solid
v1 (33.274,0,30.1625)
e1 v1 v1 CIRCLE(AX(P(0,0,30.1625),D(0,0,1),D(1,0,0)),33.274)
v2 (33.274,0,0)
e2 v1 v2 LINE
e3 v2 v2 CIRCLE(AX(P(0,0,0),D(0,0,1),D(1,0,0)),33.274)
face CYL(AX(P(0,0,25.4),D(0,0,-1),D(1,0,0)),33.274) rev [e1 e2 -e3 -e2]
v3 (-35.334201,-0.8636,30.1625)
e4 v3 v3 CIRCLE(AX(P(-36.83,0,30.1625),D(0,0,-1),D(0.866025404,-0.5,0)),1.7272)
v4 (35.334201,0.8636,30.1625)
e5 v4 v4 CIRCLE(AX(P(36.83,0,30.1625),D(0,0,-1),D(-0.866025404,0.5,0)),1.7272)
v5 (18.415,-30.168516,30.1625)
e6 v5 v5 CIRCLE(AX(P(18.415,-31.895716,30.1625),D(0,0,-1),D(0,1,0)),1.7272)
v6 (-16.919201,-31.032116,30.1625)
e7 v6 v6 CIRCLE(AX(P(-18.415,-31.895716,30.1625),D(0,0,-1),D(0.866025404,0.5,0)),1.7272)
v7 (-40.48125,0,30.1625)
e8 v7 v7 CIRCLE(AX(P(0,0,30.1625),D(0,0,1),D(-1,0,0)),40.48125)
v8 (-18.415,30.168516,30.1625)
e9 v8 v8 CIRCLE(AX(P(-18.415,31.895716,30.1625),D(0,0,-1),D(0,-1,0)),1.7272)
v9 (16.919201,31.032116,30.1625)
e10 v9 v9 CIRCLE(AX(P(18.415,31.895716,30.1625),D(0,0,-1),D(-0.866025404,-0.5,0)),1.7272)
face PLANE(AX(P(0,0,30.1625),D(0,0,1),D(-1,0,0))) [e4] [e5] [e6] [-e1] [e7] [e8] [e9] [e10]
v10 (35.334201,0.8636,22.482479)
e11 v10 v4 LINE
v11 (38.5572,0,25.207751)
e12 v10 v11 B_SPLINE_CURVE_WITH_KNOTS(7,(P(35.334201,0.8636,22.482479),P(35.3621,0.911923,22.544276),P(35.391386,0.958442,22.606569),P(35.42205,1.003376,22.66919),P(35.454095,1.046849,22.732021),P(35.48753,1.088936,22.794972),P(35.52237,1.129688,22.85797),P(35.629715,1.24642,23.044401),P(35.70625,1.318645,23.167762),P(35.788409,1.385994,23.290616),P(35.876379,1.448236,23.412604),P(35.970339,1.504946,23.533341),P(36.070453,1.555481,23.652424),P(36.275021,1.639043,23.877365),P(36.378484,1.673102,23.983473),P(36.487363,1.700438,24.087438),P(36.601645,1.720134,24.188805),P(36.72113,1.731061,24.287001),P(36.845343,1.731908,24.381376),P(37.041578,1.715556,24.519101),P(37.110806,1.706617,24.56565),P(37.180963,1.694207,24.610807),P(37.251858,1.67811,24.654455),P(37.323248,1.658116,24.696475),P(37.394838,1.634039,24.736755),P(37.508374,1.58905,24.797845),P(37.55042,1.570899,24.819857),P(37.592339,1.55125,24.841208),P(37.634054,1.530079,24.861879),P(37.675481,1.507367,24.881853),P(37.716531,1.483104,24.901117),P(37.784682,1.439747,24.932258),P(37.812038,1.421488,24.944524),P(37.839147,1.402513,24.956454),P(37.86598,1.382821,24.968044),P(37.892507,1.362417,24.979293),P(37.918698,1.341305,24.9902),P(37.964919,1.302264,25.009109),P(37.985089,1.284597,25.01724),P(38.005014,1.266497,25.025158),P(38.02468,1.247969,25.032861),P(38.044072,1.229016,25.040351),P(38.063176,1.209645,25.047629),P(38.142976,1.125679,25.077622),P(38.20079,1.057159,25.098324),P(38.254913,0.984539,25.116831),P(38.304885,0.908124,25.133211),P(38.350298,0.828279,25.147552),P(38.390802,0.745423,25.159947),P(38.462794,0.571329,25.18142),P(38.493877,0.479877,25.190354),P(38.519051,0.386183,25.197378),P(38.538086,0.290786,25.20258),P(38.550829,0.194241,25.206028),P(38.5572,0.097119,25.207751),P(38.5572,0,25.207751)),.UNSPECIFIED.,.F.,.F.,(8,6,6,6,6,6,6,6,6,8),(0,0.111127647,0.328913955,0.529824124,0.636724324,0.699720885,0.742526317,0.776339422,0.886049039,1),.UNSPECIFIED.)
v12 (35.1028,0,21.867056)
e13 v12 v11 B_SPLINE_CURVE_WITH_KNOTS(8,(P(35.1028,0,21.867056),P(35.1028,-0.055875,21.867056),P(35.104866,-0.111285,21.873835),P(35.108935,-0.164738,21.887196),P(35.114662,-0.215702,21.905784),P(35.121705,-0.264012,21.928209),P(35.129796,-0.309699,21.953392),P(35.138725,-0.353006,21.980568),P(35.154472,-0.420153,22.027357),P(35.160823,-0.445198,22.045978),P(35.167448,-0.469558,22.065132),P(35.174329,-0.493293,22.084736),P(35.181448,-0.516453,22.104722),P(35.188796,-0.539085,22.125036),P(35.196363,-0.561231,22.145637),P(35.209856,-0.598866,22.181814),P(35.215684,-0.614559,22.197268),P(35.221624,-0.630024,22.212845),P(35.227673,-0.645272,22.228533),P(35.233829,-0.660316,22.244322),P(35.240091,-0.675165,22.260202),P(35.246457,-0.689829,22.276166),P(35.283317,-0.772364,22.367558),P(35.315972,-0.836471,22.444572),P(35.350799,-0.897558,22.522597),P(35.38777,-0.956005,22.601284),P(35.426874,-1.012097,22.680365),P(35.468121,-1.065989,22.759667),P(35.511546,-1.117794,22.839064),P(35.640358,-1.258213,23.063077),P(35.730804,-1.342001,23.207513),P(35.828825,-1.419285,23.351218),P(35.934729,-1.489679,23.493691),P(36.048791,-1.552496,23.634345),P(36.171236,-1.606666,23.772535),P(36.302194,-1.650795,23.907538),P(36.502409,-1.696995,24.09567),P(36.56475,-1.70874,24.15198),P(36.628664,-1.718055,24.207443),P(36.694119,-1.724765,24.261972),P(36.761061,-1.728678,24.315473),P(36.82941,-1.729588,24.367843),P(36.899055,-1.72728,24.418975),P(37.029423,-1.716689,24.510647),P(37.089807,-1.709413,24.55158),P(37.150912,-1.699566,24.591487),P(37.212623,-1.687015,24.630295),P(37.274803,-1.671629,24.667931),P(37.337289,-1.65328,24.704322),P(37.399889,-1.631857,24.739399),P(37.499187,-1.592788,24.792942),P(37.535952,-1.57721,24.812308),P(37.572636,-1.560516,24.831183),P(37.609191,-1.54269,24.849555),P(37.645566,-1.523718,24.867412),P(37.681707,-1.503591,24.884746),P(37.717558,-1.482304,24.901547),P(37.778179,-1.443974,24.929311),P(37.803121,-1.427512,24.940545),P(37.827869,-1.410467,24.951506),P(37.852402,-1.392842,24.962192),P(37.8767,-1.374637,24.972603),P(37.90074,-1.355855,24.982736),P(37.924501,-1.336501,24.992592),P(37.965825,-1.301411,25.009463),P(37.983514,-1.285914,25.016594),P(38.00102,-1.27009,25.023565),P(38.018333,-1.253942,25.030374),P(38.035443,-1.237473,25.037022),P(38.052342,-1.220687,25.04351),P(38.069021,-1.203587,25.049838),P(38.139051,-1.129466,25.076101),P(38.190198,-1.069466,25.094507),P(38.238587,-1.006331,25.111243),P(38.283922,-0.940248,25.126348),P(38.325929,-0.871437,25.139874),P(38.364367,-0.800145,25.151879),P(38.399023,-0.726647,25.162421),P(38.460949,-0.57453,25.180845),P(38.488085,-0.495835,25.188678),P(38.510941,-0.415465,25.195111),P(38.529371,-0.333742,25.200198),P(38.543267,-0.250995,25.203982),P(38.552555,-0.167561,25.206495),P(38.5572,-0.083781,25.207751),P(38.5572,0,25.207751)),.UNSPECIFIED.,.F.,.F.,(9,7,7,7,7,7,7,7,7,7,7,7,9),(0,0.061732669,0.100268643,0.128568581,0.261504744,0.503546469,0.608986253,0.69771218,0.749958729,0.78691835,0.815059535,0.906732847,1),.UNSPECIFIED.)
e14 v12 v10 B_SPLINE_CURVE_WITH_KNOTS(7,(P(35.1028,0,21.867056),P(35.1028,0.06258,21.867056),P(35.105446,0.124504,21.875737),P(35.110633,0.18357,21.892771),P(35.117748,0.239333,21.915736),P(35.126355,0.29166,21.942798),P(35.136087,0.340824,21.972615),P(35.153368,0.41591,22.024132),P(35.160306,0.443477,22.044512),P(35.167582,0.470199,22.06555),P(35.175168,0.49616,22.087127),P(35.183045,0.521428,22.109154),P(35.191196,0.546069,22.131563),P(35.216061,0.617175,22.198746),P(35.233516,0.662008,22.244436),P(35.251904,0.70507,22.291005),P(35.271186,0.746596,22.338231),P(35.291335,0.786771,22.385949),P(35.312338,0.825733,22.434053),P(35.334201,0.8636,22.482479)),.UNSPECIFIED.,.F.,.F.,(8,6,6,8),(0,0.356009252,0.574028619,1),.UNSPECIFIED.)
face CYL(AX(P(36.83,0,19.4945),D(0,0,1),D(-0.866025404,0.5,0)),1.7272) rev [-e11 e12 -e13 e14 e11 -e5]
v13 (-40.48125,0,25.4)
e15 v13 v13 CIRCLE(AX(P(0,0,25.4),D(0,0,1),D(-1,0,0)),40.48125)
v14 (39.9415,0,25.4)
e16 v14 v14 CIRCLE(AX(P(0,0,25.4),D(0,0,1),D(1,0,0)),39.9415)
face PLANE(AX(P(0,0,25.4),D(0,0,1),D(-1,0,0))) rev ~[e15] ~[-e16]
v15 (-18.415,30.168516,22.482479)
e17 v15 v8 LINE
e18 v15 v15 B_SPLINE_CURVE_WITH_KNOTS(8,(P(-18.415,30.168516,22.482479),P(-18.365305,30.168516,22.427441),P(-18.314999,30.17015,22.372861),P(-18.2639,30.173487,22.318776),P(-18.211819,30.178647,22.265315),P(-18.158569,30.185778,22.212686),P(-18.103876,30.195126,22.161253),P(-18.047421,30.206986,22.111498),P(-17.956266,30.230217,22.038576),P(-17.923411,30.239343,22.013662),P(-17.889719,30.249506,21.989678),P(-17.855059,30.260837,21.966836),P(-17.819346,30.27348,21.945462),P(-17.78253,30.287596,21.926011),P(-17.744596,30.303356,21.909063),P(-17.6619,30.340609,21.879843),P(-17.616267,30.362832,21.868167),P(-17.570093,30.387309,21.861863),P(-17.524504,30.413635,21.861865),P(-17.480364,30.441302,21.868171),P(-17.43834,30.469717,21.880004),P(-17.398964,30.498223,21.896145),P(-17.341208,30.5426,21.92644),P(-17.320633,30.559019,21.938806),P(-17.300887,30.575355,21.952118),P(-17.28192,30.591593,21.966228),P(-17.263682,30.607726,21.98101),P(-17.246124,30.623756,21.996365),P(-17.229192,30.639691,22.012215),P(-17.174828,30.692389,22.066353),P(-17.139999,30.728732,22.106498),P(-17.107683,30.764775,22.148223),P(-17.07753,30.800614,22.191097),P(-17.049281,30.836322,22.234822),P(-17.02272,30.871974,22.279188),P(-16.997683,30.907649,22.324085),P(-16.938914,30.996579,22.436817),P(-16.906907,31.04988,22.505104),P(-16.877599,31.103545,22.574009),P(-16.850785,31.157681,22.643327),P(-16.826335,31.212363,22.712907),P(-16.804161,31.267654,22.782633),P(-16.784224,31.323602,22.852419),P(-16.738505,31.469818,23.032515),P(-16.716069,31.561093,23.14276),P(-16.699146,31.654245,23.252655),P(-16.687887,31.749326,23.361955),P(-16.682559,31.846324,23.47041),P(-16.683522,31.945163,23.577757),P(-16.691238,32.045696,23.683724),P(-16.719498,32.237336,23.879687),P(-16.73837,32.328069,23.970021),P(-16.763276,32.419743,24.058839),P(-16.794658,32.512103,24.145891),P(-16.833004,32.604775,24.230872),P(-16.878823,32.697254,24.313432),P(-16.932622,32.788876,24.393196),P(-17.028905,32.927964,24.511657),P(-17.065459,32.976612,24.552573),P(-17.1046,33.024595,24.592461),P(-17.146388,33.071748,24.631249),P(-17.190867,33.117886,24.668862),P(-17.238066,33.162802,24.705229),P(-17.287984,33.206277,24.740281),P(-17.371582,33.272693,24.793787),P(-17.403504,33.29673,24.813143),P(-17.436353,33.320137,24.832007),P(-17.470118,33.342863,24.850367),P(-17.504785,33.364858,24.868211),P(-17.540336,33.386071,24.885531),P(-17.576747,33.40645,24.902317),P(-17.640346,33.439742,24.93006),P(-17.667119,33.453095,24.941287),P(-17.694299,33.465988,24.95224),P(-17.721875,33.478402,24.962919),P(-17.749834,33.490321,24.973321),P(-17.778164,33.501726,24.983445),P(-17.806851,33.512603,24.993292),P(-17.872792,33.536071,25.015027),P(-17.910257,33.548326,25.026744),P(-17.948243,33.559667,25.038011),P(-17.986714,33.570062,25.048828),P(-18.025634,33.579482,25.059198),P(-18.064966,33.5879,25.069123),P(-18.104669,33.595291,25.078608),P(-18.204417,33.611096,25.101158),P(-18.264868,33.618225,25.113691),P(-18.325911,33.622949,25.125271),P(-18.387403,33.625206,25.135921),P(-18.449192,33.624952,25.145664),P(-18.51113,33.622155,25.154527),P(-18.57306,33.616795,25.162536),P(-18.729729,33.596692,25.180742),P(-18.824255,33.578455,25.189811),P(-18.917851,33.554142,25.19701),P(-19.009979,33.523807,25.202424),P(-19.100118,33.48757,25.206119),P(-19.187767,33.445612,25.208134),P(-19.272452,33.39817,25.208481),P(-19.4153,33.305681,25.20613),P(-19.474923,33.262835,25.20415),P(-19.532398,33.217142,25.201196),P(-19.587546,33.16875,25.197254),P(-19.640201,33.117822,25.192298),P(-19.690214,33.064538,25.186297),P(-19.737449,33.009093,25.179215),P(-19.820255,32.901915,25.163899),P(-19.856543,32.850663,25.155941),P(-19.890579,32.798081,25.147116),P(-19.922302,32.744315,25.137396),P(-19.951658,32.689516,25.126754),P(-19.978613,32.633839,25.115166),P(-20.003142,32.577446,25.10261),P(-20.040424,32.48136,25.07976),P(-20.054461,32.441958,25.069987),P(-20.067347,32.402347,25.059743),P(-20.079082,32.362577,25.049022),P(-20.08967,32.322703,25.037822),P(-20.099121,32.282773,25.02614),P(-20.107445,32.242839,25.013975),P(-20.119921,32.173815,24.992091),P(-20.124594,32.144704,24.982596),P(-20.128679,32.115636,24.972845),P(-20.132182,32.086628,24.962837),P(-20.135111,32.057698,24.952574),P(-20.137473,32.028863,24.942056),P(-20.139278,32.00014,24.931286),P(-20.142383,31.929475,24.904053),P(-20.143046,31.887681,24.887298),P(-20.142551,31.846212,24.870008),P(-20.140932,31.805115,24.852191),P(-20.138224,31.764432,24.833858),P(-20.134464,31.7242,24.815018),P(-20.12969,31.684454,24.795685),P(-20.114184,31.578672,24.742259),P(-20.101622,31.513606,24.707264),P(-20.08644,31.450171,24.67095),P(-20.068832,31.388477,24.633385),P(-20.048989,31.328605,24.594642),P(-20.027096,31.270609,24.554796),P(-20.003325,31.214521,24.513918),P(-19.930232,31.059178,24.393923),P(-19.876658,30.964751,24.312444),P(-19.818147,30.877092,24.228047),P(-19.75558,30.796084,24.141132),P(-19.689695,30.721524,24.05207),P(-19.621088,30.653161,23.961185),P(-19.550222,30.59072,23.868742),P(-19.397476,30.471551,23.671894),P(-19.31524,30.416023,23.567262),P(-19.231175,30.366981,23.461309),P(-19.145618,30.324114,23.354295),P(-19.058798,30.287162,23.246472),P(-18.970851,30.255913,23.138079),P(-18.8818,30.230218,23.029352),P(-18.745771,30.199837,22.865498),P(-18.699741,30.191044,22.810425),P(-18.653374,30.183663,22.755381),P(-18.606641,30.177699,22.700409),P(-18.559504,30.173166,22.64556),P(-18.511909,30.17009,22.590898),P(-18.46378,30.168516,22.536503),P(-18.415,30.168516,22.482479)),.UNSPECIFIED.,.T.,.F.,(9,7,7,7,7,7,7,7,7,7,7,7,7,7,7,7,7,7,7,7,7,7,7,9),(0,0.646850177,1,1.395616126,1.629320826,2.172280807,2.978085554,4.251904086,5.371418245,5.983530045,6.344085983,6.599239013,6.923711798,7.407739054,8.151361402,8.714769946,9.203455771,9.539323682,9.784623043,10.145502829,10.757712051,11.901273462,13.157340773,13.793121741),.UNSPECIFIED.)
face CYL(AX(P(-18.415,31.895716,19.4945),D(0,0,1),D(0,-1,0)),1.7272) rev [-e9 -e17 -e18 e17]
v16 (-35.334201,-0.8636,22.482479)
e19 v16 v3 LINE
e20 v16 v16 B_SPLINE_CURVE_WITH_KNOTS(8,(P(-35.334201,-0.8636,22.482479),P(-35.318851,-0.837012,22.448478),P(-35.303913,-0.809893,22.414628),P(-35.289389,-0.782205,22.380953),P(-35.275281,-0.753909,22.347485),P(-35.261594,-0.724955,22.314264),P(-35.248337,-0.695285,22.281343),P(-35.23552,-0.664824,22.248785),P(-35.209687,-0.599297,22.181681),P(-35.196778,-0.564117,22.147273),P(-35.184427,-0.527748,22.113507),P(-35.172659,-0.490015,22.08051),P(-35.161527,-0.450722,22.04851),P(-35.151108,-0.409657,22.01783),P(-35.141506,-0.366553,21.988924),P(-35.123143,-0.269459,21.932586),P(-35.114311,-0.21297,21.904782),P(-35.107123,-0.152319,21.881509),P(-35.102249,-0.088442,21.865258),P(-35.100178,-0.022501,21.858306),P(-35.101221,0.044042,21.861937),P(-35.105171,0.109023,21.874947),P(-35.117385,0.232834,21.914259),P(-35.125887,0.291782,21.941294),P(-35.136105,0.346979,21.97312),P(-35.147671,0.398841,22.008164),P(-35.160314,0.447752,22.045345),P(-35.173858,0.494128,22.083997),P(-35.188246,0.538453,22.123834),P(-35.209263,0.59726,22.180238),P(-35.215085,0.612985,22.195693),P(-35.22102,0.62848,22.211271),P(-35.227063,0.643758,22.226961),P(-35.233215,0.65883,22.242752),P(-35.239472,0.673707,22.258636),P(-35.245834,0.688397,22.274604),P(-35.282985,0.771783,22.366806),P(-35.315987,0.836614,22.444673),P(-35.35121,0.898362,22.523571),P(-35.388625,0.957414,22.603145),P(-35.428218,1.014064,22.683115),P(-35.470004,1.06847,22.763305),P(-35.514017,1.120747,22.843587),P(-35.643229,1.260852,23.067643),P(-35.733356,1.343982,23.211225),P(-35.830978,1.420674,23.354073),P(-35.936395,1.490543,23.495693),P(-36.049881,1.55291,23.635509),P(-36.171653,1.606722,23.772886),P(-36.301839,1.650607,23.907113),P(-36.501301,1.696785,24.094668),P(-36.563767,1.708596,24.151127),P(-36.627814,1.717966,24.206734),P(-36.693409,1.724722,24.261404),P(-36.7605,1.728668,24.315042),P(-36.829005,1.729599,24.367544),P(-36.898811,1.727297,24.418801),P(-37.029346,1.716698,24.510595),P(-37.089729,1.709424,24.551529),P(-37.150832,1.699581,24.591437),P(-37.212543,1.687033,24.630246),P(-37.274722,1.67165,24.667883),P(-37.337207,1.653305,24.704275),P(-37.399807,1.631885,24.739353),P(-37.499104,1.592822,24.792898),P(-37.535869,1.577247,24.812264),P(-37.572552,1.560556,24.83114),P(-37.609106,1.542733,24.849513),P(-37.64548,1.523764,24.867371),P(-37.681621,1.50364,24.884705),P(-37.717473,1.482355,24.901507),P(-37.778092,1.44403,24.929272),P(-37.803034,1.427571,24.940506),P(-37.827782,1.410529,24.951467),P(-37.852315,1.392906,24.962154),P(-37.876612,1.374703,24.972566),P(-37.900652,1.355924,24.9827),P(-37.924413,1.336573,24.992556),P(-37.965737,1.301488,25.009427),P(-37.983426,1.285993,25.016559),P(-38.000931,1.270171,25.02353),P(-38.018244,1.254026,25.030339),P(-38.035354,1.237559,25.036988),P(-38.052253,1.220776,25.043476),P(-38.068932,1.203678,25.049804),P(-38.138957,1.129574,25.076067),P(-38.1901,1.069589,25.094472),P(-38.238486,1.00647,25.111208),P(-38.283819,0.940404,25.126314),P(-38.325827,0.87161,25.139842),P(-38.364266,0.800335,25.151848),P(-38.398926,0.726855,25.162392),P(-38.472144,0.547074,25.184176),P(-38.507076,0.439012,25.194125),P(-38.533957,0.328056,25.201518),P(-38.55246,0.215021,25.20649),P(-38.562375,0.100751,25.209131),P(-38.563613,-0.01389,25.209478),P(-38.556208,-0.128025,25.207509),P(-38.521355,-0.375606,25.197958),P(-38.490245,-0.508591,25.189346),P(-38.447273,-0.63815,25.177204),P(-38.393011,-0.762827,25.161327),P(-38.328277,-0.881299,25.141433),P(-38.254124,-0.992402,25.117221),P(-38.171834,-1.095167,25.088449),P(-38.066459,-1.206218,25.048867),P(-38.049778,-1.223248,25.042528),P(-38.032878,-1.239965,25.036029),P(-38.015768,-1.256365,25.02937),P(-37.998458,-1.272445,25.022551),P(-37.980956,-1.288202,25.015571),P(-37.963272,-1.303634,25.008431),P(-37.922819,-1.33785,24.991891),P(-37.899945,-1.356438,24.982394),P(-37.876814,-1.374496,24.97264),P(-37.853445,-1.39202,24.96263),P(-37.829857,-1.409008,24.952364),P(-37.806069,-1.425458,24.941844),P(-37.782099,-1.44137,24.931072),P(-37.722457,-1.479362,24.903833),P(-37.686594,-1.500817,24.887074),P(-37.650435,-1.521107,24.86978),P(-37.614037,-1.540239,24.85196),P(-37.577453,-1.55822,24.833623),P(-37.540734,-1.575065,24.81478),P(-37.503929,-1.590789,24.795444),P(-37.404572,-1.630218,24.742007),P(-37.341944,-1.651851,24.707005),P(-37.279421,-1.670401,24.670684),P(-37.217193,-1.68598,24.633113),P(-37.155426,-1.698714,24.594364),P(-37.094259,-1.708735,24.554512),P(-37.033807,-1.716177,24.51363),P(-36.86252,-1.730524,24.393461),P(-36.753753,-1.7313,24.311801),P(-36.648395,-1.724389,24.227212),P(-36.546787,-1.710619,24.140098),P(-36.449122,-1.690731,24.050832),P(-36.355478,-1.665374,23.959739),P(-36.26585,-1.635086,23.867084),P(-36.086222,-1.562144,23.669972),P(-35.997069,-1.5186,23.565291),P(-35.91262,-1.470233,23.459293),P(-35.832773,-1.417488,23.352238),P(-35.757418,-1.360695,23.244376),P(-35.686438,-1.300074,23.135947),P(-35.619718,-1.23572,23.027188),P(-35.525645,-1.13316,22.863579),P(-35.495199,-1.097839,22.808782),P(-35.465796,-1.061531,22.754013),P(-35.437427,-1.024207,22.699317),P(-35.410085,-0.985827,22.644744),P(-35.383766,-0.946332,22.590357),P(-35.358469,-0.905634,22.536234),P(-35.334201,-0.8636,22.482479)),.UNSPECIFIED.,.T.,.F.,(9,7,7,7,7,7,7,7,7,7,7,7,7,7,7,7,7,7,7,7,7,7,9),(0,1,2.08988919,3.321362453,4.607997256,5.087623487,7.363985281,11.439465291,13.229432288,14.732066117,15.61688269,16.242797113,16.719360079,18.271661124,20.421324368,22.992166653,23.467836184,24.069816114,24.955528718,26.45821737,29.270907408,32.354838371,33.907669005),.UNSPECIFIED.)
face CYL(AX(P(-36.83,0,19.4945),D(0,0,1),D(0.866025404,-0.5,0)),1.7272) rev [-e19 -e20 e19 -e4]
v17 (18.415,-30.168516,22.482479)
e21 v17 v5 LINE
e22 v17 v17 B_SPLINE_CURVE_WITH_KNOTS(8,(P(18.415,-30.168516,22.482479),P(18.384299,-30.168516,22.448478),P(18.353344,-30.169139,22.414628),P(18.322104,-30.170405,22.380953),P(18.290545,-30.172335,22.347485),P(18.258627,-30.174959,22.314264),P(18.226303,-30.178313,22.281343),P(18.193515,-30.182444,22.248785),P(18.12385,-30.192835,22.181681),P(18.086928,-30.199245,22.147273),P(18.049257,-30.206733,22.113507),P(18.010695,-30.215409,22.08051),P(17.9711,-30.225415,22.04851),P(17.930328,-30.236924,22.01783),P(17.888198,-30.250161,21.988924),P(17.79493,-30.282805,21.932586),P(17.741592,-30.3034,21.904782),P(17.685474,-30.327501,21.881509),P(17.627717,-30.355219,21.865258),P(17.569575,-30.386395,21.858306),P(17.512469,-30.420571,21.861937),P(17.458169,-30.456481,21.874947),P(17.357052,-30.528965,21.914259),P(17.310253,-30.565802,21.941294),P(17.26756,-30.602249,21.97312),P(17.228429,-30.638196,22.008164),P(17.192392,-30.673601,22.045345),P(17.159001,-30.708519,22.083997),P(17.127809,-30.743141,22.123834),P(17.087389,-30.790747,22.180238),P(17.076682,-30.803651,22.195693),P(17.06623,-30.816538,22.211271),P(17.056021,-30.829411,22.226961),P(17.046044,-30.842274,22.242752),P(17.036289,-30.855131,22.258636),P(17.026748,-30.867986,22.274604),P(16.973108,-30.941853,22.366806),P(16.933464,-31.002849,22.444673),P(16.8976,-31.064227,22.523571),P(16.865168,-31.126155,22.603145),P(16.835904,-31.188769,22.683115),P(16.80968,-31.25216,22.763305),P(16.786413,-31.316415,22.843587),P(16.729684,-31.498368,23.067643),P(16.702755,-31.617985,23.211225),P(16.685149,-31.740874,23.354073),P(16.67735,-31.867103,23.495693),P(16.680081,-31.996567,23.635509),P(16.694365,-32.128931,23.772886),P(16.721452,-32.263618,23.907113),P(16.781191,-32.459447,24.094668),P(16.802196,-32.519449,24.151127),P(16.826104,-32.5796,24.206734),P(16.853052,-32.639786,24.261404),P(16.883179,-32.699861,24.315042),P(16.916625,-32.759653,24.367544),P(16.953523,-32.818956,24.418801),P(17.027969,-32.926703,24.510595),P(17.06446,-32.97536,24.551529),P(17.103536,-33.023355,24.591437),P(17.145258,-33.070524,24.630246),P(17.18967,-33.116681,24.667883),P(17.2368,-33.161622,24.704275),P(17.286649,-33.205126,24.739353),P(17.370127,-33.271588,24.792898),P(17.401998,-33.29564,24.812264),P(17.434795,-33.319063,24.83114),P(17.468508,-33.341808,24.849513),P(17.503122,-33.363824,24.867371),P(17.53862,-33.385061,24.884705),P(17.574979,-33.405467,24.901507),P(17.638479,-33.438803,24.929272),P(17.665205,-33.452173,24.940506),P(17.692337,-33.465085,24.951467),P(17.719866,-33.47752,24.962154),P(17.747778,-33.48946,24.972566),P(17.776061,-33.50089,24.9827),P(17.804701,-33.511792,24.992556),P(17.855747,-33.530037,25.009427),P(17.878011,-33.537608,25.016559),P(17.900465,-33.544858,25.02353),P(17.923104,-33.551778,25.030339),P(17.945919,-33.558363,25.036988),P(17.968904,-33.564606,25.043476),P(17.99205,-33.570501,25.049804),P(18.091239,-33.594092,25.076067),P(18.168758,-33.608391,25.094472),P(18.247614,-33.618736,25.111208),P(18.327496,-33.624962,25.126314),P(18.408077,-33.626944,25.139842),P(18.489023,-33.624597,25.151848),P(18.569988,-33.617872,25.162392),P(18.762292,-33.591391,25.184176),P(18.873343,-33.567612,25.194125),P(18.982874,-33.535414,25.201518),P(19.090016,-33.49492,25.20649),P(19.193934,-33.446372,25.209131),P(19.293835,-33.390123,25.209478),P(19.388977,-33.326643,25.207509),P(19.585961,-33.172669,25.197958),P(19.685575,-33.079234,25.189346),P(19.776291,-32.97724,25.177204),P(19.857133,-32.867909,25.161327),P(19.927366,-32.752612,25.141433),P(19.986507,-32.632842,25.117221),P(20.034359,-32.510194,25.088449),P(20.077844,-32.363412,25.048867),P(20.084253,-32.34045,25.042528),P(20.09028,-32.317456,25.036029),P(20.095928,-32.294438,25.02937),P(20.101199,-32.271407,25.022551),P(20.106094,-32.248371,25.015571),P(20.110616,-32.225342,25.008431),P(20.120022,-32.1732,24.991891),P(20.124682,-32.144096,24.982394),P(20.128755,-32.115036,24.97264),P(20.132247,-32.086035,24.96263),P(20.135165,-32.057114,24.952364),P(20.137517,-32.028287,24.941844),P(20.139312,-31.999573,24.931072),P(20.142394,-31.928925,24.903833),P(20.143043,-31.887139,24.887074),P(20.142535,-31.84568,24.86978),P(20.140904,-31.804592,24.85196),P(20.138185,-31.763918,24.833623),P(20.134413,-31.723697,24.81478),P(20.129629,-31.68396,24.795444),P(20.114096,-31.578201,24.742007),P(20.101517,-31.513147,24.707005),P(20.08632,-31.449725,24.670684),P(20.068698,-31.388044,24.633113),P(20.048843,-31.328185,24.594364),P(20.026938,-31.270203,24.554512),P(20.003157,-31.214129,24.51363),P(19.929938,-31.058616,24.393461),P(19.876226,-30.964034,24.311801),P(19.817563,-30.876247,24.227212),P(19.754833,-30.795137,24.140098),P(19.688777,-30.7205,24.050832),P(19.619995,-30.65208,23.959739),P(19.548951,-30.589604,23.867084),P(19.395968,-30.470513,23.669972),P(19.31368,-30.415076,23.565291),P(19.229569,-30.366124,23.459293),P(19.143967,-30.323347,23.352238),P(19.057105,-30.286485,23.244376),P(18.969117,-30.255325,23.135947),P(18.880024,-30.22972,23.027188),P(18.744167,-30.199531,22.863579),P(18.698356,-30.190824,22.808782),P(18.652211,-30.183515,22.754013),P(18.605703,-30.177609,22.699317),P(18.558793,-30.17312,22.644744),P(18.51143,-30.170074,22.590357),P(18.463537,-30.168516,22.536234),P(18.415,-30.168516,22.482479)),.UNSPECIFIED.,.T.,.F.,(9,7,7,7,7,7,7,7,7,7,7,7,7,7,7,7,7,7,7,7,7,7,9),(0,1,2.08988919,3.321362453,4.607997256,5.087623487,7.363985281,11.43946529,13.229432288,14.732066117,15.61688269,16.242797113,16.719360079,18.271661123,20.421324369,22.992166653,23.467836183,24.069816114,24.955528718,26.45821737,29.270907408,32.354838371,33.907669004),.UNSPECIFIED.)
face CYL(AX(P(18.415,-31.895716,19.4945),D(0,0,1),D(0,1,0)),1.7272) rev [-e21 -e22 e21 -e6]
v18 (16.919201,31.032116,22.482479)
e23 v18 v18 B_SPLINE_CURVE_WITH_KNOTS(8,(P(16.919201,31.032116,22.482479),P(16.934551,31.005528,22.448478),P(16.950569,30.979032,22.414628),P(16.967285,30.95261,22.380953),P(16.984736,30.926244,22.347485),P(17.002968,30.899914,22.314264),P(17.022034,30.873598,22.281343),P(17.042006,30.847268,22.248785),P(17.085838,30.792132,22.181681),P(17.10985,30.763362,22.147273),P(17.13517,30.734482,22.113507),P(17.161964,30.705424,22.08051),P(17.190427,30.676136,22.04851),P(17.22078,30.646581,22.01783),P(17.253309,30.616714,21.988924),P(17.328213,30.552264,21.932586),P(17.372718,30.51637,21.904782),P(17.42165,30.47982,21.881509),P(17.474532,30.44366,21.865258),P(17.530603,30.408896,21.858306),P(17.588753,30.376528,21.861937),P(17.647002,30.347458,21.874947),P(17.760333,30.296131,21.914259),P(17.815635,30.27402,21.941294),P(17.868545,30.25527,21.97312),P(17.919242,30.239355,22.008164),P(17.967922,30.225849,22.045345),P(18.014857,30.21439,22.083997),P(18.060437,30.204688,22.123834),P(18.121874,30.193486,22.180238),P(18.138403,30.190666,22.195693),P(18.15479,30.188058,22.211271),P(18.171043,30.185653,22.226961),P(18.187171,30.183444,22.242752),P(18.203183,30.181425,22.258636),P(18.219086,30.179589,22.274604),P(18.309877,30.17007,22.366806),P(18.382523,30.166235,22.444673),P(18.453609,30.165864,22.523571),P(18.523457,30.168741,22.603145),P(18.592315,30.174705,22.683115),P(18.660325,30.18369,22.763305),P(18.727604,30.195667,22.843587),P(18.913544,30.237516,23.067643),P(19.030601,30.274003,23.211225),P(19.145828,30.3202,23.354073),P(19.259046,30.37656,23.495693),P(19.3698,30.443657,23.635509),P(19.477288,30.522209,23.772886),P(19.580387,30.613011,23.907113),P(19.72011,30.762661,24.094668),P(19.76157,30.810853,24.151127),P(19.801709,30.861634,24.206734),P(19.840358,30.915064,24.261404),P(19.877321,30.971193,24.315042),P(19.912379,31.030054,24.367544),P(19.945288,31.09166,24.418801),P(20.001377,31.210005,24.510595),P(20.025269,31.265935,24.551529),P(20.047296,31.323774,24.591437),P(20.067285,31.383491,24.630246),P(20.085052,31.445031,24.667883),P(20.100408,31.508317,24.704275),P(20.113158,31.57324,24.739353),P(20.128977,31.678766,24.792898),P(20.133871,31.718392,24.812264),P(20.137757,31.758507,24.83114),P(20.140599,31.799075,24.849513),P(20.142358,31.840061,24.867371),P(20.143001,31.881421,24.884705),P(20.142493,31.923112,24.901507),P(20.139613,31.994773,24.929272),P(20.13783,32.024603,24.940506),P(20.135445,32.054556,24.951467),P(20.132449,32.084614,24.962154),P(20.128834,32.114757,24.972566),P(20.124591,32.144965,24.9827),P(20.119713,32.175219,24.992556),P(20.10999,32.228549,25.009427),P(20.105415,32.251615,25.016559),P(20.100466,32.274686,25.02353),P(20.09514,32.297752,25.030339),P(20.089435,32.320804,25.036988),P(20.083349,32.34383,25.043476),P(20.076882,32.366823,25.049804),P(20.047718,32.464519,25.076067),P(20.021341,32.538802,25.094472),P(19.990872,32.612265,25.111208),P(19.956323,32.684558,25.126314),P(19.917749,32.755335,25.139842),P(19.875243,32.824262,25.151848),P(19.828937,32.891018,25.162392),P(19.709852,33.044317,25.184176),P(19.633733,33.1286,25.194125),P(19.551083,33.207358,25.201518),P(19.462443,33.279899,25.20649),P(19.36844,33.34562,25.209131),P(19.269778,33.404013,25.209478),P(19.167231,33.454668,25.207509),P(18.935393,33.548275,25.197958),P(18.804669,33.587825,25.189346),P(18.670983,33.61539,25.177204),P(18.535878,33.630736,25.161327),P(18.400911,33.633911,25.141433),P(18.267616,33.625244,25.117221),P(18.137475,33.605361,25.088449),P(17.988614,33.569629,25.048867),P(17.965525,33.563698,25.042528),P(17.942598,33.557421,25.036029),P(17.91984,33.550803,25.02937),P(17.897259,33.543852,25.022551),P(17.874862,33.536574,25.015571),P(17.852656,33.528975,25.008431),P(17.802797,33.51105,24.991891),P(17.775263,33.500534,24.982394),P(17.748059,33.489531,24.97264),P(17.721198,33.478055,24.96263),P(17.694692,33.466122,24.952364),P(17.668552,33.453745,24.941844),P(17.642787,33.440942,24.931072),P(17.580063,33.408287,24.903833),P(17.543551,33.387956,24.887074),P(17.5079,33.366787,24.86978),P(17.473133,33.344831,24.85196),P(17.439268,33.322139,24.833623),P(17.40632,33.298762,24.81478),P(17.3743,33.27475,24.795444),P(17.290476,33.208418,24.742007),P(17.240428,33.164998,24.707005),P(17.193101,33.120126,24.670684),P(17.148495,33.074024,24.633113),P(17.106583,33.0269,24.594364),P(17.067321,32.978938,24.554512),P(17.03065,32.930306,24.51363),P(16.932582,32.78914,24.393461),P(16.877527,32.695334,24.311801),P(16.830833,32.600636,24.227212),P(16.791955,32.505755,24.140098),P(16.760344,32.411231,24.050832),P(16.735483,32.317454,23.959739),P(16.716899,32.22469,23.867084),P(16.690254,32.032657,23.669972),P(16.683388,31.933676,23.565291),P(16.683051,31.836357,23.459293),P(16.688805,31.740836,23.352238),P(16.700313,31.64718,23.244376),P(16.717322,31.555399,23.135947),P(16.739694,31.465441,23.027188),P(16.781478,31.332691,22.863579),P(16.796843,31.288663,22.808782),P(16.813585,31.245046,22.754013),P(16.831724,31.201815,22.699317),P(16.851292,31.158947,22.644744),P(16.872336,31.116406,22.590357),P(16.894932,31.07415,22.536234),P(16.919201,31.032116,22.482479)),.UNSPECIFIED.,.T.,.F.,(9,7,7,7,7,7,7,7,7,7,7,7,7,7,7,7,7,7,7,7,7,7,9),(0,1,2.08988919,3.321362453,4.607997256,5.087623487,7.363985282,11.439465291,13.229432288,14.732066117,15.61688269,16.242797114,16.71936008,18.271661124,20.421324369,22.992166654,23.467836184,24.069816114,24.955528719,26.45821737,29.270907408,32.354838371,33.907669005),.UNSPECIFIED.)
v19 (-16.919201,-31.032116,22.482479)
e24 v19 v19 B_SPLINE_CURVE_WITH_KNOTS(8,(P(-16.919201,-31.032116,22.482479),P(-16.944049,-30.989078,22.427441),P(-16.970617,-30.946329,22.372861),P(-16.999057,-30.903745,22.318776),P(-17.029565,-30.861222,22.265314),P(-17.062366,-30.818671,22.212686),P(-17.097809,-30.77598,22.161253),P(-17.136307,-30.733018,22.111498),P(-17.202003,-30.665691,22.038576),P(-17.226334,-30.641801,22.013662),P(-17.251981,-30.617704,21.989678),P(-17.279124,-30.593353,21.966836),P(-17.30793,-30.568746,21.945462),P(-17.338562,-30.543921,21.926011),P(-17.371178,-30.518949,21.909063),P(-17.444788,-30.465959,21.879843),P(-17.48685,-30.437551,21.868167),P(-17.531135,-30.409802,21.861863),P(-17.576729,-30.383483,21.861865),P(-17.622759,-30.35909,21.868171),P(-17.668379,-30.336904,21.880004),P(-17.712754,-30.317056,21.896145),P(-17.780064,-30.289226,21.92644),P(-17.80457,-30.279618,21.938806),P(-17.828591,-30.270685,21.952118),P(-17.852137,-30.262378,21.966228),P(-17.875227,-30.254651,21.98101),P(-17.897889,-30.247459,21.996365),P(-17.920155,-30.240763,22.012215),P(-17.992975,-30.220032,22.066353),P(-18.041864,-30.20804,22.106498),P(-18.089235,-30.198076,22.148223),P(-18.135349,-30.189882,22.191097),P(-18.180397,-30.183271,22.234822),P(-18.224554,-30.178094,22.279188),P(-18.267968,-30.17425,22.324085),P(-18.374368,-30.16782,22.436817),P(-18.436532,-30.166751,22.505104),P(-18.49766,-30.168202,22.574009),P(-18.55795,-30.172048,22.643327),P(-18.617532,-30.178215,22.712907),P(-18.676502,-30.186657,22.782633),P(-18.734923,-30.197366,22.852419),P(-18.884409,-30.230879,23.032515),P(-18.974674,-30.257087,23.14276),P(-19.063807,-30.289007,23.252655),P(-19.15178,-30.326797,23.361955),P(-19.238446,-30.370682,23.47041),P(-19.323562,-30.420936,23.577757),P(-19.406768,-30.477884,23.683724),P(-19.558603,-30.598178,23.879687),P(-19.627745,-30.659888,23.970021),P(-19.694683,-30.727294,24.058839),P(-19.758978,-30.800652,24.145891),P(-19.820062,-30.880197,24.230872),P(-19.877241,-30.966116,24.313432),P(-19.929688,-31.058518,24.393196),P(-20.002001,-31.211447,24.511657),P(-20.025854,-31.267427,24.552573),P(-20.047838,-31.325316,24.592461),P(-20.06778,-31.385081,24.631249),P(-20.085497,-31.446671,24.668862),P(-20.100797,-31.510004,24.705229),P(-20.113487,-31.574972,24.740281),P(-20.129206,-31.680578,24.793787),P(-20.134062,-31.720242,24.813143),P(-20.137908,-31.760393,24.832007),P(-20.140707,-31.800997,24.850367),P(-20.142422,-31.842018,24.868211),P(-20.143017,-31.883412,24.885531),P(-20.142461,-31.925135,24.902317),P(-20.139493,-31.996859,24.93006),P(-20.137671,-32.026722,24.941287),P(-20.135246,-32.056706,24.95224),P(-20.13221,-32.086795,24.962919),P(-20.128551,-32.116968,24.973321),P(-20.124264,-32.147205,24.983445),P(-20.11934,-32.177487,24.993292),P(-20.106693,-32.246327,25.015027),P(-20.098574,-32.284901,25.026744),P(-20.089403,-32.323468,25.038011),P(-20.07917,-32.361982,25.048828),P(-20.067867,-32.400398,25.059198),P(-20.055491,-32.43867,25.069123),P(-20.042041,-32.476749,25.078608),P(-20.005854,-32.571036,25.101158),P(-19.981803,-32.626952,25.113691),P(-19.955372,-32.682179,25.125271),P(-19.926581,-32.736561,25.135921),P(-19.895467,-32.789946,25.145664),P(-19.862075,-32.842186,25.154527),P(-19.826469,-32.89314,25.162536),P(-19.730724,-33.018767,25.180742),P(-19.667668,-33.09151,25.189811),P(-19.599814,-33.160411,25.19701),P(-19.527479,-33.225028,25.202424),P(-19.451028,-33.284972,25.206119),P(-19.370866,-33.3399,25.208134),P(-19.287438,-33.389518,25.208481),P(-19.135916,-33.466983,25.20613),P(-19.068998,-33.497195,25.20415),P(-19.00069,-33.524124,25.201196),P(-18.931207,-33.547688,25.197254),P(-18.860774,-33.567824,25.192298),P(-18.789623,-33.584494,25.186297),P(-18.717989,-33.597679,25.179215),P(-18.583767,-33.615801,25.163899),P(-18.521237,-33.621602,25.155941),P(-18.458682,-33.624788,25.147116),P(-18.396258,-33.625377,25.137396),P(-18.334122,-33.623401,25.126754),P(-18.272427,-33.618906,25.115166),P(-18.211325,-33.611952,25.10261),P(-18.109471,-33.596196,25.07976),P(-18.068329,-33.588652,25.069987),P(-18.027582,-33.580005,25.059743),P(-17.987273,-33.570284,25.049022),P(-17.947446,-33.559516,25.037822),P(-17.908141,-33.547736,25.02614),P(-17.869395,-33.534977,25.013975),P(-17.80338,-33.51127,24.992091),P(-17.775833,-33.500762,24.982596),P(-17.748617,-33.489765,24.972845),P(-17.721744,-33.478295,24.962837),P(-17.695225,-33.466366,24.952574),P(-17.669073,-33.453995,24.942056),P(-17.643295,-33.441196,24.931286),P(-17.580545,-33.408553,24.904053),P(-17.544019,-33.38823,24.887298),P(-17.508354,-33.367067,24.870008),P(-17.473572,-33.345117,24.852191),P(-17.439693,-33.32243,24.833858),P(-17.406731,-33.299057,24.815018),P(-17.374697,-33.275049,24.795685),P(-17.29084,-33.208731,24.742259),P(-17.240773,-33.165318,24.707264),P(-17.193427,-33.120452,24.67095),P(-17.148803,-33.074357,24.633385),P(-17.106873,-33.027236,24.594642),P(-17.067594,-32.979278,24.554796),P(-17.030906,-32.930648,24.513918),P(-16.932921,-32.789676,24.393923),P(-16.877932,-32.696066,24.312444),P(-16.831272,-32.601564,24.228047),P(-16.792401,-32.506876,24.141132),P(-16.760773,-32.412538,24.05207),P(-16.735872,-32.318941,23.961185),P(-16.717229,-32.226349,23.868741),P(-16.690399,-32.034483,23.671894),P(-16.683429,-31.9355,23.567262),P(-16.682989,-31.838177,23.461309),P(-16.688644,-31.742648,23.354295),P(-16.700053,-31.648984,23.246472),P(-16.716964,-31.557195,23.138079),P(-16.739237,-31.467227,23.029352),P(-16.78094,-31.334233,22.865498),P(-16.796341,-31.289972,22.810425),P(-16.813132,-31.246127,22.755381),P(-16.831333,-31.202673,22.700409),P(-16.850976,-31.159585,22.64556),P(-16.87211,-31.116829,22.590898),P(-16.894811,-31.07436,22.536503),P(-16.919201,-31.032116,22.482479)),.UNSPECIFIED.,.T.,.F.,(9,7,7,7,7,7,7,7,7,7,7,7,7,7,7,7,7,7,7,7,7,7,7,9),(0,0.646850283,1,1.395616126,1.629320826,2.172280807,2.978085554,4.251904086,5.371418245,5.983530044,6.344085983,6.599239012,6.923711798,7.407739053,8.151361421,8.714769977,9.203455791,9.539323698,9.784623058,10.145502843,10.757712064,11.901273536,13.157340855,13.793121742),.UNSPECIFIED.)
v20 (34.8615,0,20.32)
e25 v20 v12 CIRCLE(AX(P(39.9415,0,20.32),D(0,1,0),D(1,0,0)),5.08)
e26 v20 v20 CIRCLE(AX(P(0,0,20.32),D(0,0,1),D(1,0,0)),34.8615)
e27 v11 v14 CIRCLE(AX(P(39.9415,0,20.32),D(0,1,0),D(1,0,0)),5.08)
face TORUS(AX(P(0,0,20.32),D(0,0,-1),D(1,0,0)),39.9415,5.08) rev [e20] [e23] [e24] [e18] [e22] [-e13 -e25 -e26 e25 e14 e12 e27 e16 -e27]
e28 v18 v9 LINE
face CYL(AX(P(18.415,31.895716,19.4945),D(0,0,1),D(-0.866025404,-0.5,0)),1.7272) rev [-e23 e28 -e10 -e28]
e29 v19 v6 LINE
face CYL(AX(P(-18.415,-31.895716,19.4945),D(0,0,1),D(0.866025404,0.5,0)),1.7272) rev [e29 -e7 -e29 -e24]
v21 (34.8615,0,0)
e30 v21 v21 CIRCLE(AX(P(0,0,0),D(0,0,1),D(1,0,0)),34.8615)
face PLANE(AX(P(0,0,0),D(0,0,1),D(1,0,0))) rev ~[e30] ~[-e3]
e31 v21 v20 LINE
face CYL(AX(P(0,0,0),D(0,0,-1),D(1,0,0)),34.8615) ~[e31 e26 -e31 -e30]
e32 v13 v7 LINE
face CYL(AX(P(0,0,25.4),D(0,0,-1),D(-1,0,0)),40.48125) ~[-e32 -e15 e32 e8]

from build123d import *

# Parameters (mm, degrees)
SKETCH1_R           = 34.8615
SKETCH1_R_2         = 33.274
BOSS_EXTRUDE1_DEPTH = 25.4
SKETCH2_R           = 40.48125
SKETCH2_R_2         = 33.274
BOSS_EXTRUDE2_DEPTH = 4.7625
FILLET1_R           = 5.08
CIRPATTERN1_COUNT   = 6


with BuildPart() as part:
    # Sketch1 → Boss-Extrude1 (new body)
    with BuildSketch(Plane.XY):
        Circle(SKETCH1_R)
        Circle(SKETCH1_R_2, mode=Mode.SUBTRACT)
    extrude(amount=BOSS_EXTRUDE1_DEPTH)

    # Sketch2 → Boss-Extrude2 (add)
    with BuildSketch(Plane.XY.offset(25.4)):
        with Locations(Location((0, 0, 0), (0, 0, 180))):
            Circle(SKETCH2_R)
        Circle(SKETCH2_R_2, mode=Mode.SUBTRACT)
    extrude(amount=BOSS_EXTRUDE2_DEPTH)

    # Fillet1
    fillet1_edges = [part.edges().sort_by_distance(p)[0] for p in [
        (-34.8615, 0, 25.4),
    ]]
    fillet(fillet1_edges, radius=FILLET1_R)

    # Sketch7 → #8-32 Tapped Hole1 (revolve, cut)
    with BuildSketch(Plane(origin=(-18.415, 31.895715621, 30.1625), x_dir=(0, -1, 0), z_dir=(1, 0, 0))):
        Polygon((0, 0), (0, 11.705806461), (1.7272, 10.668), (1.7272, 0), align=None)
    f_8_32_tapped_hole1 = revolve(axis=Axis((-18.415, 31.895715621, 36.5125), (0, 0, -1)), mode=Mode.SUBTRACT)

    # CirPattern1: #8-32 Tapped Hole1 ×6 about axis
    cirpattern1_axis = Axis((0, 0, 0), (0, 0, 1))
    for i in range(1, CIRPATTERN1_COUNT):
        add(f_8_32_tapped_hole1.rotate(cirpattern1_axis, i * 360 / CIRPATTERN1_COUNT), mode=Mode.SUBTRACT)


solid = part.part
